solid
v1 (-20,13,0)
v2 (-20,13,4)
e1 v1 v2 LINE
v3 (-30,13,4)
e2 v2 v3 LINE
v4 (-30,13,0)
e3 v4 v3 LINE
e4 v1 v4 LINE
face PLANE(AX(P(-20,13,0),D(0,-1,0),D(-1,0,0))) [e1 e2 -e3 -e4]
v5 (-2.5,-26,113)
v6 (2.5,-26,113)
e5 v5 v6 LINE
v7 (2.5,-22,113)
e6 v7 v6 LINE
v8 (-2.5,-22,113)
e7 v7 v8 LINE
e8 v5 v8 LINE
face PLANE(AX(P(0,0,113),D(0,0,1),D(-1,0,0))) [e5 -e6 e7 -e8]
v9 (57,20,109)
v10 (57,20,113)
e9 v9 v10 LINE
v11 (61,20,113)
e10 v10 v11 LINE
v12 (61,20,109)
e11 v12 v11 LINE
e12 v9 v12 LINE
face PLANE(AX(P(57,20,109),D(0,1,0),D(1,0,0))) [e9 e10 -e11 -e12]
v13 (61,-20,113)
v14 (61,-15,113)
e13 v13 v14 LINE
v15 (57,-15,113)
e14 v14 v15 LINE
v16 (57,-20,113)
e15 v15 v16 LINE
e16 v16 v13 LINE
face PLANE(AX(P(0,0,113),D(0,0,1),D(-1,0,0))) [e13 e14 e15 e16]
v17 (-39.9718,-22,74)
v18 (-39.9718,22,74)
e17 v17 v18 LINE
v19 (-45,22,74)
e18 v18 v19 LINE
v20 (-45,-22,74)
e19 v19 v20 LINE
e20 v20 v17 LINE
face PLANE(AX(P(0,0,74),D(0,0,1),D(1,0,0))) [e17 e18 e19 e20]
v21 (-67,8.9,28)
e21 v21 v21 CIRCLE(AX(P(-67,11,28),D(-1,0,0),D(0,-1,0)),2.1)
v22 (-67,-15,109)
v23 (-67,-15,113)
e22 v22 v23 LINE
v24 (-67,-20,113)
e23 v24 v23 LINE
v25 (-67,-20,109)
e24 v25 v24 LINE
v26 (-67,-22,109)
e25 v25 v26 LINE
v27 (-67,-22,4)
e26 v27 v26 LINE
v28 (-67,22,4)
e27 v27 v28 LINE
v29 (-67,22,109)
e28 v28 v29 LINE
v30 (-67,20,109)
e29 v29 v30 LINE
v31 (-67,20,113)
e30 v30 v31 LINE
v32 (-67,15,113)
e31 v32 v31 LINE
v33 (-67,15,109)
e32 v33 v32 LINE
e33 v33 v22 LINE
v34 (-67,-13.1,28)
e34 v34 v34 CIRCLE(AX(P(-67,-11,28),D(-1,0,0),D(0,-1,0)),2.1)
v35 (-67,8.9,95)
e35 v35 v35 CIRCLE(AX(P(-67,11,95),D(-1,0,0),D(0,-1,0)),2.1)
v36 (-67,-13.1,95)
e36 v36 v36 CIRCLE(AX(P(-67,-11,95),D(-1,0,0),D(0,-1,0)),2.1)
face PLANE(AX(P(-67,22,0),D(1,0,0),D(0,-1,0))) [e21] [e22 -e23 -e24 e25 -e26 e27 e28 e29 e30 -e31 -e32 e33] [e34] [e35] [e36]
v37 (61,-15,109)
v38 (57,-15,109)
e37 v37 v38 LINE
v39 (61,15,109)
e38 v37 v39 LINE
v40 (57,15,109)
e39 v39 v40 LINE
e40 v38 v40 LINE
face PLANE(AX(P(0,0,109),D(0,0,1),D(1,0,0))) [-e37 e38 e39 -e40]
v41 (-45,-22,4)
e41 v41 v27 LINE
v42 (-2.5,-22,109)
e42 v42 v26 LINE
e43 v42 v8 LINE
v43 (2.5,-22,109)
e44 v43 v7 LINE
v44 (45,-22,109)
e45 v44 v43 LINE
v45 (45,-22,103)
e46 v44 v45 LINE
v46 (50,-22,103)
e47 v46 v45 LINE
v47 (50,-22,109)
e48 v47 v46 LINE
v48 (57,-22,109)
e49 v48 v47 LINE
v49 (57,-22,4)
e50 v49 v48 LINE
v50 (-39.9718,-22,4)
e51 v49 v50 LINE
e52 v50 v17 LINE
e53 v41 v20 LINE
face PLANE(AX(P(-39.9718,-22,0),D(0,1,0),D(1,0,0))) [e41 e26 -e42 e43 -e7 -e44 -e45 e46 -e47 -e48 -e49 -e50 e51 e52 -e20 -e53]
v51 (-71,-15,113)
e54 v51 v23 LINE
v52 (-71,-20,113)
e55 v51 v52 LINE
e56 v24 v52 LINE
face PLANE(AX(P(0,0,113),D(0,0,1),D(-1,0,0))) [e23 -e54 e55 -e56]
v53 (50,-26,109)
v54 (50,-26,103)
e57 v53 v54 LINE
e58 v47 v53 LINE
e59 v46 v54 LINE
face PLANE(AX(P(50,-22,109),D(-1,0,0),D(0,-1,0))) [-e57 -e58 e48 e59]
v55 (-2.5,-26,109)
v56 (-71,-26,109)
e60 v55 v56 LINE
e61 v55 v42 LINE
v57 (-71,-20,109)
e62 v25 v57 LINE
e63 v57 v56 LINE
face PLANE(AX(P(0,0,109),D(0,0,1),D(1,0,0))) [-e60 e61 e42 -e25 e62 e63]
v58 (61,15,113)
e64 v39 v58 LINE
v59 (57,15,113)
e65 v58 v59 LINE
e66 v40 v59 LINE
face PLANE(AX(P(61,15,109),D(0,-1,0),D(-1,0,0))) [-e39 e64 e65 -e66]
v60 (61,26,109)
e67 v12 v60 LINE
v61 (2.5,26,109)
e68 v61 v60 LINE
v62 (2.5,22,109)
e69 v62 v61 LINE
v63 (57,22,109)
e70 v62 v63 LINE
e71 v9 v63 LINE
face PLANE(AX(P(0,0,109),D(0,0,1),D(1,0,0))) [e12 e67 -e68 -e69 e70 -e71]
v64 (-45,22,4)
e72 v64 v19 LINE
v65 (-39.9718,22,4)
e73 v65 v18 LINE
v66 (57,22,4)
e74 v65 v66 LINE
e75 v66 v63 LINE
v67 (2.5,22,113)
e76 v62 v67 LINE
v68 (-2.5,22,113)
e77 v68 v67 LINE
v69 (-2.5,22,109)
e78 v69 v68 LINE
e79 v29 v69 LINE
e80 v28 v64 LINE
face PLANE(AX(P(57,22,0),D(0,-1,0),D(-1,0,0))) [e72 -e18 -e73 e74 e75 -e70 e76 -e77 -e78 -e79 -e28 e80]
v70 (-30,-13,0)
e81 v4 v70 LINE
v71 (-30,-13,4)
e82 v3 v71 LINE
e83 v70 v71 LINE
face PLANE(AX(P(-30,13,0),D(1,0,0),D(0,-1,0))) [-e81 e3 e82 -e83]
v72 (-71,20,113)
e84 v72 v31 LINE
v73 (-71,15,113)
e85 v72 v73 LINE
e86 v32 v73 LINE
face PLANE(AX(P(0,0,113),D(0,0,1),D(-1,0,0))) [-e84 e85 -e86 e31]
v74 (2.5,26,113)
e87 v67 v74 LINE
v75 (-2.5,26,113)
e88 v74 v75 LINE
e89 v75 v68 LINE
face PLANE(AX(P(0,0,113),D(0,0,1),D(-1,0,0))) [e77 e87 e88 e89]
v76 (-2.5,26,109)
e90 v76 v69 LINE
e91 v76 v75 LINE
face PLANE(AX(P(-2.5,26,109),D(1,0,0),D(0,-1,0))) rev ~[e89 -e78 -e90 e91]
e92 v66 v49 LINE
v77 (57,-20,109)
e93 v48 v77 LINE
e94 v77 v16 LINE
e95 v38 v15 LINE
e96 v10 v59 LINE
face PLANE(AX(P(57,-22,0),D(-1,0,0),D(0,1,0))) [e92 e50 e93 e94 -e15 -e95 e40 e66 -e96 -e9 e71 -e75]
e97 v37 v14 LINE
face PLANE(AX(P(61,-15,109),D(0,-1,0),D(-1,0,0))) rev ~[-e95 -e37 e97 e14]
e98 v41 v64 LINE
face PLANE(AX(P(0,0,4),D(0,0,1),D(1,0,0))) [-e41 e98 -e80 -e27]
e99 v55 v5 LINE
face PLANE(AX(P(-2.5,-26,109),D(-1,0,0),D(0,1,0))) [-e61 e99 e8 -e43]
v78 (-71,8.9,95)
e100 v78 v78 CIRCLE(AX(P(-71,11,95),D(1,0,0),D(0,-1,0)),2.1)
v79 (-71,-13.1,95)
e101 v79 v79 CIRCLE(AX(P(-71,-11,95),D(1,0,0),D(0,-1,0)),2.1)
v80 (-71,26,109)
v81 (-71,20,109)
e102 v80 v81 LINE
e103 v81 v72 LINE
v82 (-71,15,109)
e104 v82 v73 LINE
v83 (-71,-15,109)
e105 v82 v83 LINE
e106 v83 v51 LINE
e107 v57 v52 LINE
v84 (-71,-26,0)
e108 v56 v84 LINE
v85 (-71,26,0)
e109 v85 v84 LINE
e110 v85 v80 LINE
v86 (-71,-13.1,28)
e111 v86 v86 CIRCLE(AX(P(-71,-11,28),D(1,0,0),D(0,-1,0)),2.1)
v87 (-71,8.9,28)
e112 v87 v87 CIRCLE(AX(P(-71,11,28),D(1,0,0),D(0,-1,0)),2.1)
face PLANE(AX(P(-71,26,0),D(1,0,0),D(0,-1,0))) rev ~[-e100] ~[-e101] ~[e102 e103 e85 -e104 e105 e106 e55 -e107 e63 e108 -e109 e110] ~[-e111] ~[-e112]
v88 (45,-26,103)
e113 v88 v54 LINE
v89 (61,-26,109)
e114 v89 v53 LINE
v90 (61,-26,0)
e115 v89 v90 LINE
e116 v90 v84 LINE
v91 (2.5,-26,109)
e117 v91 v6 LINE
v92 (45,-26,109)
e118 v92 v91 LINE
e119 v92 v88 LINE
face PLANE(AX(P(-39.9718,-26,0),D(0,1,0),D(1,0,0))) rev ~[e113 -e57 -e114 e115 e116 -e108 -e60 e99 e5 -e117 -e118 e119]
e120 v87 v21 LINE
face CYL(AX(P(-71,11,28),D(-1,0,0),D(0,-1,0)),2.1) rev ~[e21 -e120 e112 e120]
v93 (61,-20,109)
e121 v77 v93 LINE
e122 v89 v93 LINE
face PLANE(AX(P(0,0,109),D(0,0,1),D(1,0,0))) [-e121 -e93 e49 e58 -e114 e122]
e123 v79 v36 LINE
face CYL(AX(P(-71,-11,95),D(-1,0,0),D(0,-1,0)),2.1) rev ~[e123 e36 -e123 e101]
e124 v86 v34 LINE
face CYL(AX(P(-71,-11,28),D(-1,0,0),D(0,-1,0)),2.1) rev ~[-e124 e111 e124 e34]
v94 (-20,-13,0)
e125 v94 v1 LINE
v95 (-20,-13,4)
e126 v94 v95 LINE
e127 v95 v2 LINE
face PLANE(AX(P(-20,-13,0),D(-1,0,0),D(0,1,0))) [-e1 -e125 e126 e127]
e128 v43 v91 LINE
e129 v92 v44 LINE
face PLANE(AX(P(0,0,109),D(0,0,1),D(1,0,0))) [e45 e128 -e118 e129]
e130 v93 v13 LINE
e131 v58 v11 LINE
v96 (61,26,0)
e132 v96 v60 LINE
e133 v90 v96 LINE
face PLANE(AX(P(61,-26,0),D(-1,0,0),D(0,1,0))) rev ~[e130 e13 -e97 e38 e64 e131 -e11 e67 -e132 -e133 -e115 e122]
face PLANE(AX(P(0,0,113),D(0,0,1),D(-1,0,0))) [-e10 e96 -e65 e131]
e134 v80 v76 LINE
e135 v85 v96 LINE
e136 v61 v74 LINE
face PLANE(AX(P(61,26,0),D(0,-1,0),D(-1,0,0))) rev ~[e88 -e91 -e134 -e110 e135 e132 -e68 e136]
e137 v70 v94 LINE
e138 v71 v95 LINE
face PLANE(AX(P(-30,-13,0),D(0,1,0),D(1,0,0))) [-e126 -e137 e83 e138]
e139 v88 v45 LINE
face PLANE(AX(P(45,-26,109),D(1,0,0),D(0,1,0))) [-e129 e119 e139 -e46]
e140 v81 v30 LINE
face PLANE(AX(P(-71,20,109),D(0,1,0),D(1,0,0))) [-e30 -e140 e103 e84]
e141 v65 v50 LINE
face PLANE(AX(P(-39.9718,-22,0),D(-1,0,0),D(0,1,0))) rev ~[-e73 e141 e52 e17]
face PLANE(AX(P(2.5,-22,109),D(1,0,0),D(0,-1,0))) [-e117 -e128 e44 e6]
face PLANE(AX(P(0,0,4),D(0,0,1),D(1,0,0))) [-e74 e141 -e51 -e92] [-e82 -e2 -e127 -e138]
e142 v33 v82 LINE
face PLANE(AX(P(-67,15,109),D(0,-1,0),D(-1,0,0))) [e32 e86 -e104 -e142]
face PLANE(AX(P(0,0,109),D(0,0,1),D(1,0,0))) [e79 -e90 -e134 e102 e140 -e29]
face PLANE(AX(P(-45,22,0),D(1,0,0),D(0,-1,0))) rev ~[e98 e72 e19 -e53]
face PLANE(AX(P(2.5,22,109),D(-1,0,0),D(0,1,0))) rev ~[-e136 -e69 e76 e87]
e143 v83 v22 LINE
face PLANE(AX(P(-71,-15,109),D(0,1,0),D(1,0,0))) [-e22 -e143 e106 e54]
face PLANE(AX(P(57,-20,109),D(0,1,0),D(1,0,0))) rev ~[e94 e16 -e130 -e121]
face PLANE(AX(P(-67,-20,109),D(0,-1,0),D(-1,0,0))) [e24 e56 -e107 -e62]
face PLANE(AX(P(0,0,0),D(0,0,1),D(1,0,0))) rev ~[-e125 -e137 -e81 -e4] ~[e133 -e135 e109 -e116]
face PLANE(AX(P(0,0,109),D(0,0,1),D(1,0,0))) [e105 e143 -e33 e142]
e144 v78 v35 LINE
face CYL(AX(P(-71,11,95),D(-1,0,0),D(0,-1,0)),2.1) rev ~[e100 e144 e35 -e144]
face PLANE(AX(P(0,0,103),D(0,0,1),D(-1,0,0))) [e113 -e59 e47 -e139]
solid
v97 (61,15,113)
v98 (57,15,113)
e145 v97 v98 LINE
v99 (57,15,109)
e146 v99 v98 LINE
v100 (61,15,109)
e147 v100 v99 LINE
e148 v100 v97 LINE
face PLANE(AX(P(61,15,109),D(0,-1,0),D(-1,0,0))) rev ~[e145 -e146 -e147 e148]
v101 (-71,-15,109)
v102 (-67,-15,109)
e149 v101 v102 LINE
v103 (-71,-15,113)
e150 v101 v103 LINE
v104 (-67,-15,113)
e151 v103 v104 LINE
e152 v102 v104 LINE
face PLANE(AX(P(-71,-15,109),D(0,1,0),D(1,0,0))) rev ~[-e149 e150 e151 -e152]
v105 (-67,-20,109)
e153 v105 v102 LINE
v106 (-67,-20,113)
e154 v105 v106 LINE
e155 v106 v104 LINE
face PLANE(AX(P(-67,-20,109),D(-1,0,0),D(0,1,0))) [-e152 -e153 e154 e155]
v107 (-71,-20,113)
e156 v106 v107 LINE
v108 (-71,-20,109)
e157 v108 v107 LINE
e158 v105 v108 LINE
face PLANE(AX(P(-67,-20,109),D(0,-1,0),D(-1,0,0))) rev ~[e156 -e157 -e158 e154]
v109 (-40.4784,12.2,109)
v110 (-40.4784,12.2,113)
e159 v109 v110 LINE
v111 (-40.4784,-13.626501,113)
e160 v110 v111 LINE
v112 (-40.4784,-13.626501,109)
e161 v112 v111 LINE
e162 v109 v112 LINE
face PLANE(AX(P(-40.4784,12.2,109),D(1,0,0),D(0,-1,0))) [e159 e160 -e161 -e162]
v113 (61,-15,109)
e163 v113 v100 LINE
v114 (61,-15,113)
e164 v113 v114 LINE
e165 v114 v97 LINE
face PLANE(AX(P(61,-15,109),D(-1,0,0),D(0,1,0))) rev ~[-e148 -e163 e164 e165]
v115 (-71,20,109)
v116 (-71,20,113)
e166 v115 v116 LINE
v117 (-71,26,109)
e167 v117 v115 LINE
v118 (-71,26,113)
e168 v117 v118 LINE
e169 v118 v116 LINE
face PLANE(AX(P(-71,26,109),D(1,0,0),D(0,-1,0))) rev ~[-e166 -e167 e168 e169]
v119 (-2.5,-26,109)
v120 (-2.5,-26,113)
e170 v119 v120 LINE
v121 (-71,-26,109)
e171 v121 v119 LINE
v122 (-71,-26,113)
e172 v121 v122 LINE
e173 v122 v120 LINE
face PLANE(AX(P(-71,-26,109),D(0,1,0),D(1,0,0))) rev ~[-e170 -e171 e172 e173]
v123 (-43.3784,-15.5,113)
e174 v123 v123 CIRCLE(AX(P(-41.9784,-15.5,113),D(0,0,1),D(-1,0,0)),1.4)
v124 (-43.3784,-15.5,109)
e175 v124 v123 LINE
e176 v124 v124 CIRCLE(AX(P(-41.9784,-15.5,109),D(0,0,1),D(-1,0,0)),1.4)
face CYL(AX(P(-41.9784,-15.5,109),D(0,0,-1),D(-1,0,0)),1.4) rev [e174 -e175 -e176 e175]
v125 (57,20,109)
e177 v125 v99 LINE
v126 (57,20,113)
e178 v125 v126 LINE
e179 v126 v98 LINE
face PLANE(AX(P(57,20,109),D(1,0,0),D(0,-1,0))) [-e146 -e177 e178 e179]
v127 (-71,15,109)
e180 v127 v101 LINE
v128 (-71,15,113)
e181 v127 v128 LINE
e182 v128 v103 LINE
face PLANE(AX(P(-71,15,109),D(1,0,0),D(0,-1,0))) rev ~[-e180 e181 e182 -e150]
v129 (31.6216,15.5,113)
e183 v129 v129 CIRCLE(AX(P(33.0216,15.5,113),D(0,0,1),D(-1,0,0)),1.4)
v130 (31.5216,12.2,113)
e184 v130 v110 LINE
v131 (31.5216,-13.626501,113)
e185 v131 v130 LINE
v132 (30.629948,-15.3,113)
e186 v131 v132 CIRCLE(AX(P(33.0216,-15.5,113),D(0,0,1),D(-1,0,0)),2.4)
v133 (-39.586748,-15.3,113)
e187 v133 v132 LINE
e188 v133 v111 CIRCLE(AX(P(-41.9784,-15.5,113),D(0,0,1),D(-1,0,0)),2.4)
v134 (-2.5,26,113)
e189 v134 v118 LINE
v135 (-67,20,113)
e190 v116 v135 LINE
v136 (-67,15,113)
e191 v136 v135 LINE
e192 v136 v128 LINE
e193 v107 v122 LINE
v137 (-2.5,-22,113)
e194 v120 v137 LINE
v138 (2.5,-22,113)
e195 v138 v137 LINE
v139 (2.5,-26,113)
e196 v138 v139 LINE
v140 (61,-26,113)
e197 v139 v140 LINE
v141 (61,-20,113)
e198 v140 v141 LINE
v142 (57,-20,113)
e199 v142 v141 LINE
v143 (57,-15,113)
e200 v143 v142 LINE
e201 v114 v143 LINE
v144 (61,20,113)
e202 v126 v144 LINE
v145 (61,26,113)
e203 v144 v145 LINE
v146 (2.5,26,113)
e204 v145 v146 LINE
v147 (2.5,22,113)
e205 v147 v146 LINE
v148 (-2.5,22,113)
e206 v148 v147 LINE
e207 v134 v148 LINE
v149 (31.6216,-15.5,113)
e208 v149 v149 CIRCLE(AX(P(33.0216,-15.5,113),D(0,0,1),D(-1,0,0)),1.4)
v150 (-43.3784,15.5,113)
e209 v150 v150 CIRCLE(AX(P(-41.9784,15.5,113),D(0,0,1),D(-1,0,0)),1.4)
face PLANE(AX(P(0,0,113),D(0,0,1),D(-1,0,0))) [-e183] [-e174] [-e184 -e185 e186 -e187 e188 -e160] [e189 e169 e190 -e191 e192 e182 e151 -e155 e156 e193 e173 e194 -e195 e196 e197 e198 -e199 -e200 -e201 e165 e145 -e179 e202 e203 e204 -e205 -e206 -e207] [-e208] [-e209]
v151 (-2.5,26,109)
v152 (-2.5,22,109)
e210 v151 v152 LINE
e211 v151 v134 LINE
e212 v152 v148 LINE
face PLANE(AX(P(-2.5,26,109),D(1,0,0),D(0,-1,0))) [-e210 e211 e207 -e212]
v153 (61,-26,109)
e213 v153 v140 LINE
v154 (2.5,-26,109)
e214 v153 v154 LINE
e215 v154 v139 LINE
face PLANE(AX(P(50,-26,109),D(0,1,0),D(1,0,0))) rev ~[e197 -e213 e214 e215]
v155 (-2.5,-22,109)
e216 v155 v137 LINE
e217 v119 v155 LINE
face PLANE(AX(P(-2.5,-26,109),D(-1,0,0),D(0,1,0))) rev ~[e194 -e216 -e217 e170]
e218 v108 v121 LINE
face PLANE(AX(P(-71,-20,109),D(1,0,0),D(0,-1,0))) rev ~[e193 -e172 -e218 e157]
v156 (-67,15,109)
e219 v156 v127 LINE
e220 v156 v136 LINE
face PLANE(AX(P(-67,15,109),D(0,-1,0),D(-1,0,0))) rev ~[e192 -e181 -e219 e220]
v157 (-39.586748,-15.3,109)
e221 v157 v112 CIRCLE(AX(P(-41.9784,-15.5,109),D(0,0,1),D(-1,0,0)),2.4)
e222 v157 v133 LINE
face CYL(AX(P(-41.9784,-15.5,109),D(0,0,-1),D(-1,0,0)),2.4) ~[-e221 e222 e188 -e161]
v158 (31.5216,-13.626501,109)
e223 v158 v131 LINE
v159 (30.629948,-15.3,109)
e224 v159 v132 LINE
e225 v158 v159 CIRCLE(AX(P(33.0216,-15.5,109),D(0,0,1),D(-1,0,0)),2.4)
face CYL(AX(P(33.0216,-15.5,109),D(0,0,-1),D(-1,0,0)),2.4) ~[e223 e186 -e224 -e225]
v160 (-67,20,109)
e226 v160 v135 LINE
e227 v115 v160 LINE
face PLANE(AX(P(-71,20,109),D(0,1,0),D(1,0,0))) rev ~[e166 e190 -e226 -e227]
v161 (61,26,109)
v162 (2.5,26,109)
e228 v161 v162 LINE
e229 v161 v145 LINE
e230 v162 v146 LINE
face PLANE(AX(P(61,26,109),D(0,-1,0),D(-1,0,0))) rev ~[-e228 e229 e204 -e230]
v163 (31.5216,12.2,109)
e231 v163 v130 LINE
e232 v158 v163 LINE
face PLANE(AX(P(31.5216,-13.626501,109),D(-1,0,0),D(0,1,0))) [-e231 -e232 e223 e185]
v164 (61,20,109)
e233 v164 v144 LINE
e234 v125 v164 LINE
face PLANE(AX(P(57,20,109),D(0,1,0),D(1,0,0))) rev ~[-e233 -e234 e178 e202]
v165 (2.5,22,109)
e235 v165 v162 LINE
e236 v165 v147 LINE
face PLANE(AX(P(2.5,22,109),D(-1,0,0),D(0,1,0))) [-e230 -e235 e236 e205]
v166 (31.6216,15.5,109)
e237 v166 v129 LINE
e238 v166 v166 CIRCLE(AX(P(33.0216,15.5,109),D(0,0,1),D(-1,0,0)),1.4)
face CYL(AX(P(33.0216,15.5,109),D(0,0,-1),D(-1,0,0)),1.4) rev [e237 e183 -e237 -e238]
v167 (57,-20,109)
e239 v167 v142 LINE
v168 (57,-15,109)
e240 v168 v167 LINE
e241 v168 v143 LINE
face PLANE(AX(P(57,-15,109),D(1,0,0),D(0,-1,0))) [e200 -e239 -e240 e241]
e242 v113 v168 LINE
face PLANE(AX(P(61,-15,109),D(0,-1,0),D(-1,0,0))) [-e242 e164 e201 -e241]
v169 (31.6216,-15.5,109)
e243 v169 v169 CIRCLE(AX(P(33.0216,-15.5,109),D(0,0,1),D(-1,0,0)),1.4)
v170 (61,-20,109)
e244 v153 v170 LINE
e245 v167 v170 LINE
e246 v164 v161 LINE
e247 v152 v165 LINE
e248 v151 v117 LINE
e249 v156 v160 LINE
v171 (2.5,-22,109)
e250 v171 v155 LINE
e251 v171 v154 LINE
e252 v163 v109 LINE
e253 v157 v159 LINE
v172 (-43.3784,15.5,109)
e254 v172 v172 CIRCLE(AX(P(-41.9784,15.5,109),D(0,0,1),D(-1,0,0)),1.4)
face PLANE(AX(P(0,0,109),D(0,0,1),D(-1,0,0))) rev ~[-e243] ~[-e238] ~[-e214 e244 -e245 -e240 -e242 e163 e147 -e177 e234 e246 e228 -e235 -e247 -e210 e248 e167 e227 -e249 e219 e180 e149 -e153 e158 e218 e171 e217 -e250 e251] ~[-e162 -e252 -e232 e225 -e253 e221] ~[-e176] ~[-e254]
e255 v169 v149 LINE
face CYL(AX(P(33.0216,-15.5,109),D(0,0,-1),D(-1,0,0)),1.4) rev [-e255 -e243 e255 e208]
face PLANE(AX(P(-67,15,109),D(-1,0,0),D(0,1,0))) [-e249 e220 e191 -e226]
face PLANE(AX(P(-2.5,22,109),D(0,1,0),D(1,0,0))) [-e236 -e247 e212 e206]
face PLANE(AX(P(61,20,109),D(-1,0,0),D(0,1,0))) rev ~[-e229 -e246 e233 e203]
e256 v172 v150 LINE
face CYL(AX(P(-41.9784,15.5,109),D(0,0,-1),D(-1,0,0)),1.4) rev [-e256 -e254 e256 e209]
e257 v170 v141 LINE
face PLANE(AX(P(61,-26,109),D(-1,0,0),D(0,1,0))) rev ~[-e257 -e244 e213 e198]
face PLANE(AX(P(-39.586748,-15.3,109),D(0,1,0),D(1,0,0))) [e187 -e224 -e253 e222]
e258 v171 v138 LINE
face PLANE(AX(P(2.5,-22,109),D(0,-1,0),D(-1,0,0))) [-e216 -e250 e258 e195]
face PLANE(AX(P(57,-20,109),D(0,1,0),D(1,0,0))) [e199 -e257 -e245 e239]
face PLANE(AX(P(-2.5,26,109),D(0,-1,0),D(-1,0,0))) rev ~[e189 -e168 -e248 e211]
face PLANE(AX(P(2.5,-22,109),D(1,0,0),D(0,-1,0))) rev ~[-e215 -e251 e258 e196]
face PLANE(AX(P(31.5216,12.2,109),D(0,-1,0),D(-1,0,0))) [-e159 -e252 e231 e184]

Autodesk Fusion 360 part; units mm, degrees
sketch "Sketch1" plane through (0, 0, 0) normal (0, 0, 1) x (1, 0, 0)
  line L0 (-40, 18) -> (40, 18)
  circle A0 centre (37.5, -15.5) radius 2.4
  line L1 (36, -15.3) -> (36, 12.2)
  circle A1 centre (-37.5, 15.5) radius 1.4
  circle A2 centre (-37.5, -15.5) radius 1.4
  line L2 (36, 12.2) -> (-36, 12.2)
  circle A3 centre (-37.5, -15.5) radius 2.4
  line L3 (-33.5216, 18) -> (8, 18)
  line L4 (40, 18) -> (40, -18)
  line L5 (-36, 12.2) -> (-36, -15.3)
  circle A4 centre (37.5, 15.5) radius 1.4
  circle A5 centre (-37.5, 15.5) radius 2.4
  circle A6 centre (37.5, -15.5) radius 1.4
  line L6 (-33.5216, 14) -> (-33.5216, 18)
  line L7 (40, -18) -> (-40, -18)
  line L8 (8, 18) -> (8, 14)
  line L9 (8, 14) -> (-33.5216, 14)
  line L10 (-36, -15.3) -> (36, -15.3)
  circle A7 centre (37.5, 15.5) radius 2.4
  line L11 (-40, -18) -> (-40, 18)
  dimension "d1" = 2.8
  dimension "d2" = 4.8
  dimension "d3" = 2.8
  dimension "d4" = 4.8
  dimension "d5" = 2.8
  dimension "d6" = 4.8
  dimension "d7" = 2.8
  dimension "d8" = 4.8
sketch "Sketch2" plane through (0, 0, 0) normal (0, 0, 1) x (1, 0, 0)
  line L0 (55, 20) -> (-5, 20)
  line L1 (-5, 20) -> (-5, -20)
  line L2 (-5, -20) -> (55, -20)
  line L3 (55, -20) -> (55, 20)
  line L4 (61, 26) -> (-71, 26)
  line L5 (-71, 26) -> (-71, -26)
  line L6 (-71, -26) -> (61, -26)
  line L7 (61, -26) -> (61, 26)
  line L8 (57, 22) -> (-67, 22)
  line L9 (-67, 22) -> (-67, -22)
  line L10 (-67, -22) -> (57, -22)
  line L11 (57, -22) -> (57, 22)
  line L12 (-39.9718, 26) -> (-45, 26)
  line L13 (-45, 26) -> (-45, -26)
  line L14 (-45, -26) -> (-39.9718, -26)
  line L15 (-39.9718, -26) -> (-39.9718, 26)
  line L16 (-20, 13) -> (-30, 13)
  line L17 (-30, 13) -> (-30, -13)
  line L18 (-30, -13) -> (-20, -13)
  line L19 (-20, -13) -> (-20, 13)
  dimension "d15" = 60
  dimension "d16" = 40
  dimension "d19" = 132
  dimension "d20" = 52
  dimension "d22" = 26
extrude "Extrude1" add sketch "Sketch2" along normal blind 4 contours L0 L1 L2 L3 | L4 L6 L7 L8 L10 L11 L15 | L4 L8 L12 L13 L15 | L4 L5 L6 L8 L9 L10 L13 | L8 L10 L13 L15 | L8 L10 L11 L15 | L6 L10 L13 L14 L15 | L8 L9 L10 L13 | L16 L17 L18 L19 makes body 1
extrude "Extrude2" add sketch "Sketch2" along normal blind 109 contours L4 L6 L7 L8 L10 L11 L15 | L4 L8 L12 L13 L15 | L4 L5 L6 L8 L9 L10 L13 | L6 L10 L13 L14 L15 bodies 1
extrude "Extrude3" add sketch "Sketch2" along normal blind 74 contours L8 L10 L13 L15 bodies 1
sketch "Sketch3" plane through (-71, 0, 0) normal (-1, 0, 0) x (0, -1, 0)
  line L0 (-26, 0) -> (26, 0)
  line L1 (26, 0) -> (26, 109)
  line L2 (26, 109) -> (-26, 109)
  line L3 (-26, 109) -> (-26, 0)
  line L4 (-11, 95) -> (11, 95)
  line L5 (11, 95) -> (11, 28)
  line L6 (11, 28) -> (-11, 28)
  line L7 (-11, 28) -> (-11, 95)
  circle A0 centre (-11, 28) radius 2.1
  circle A1 centre (-11, 95) radius 2.1
  circle A2 centre (11, 95) radius 2.1
  circle A3 centre (11, 28) radius 2.1
  dimension "d31" = 22
  dimension "d32" = 67
  dimension "d33" = 4.2
  dimension "d34" = 4.2
  dimension "d35" = 4.2
  dimension "d36" = 4.2
sketch "Sketch4" plane through (0, 0, 109) normal (0, 0, 1) x (-1, 0, 0)
  line L0 (-57, -22) -> (-57, 22)
  line L1 (-57, 22) -> (67, 22)
  line L2 (67, 22) -> (67, -22)
  line L3 (67, -22) -> (-57, -22)
  line L4 (71, 26) -> (-61, 26)
  line L5 (-61, 26) -> (-61, -26)
  line L6 (-61, -26) -> (71, -26)
  line L7 (71, -26) -> (71, 26)
  line L8 (-61, 26) -> (71, 26)
  line L9 (71, 26) -> (71, -26)
  line L10 (71, -26) -> (-61, -26)
  line L11 (-61, -26) -> (-61, 26)
  line L12 (67, 20) -> (71, 20)
  line L13 (71, 20) -> (71, 15)
  line L14 (71, 15) -> (67, 15)
  line L15 (67, 15) -> (67, 20)
  line L16 (71, -20) -> (67, -20)
  line L17 (67, -20) -> (67, -15)
  line L18 (67, -15) -> (71, -15)
  line L19 (71, -15) -> (71, -20)
  line L20 (-57, 20) -> (-61, 20)
  line L21 (-61, 20) -> (-61, 15)
  line L22 (-61, 15) -> (-57, 15)
  line L23 (-57, 15) -> (-57, 20)
  line L24 (-57, -20) -> (-61, -20)
  line L25 (-61, -20) -> (-61, -15)
  line L26 (-61, -15) -> (-57, -15)
  line L27 (-57, -15) -> (-57, -20)
  line L28 (2.5, -22) -> (-2.5, -22)
  line L29 (-2.5, -22) -> (-2.5, -26)
  line L30 (-2.5, -26) -> (2.5, -26)
  line L31 (2.5, -26) -> (2.5, -22)
  line L32 (2.5, 22) -> (-2.5, 22)
  line L33 (-2.5, 22) -> (-2.5, 26)
  line L34 (-2.5, 26) -> (2.5, 26)
  line L35 (2.5, 26) -> (2.5, 22)
  circle A0 centre (-33.0216, 15.5) radius 2.4
  line L36 (-35.5216, -18) -> (-35.5216, 18)
  circle A1 centre (-33.0216, -15.5) radius 2.4
  line L37 (38, -14) -> (38, -18)
  line L38 (-31.5216, -12.2) -> (40.4784, -12.2)
  line L39 (44.4784, -18) -> (-35.5216, -18)
  line L40 (38, -18) -> (-3.5216, -18)
  line L41 (-3.5216, -18) -> (-3.5216, -14)
  circle A2 centre (-33.0216, 15.5) radius 1.4
  line L42 (-31.5216, 15.3) -> (-31.5216, -12.2)
  circle A3 centre (-33.0216, -15.5) radius 1.4
  line L43 (44.4784, 18) -> (44.4784, -18)
  circle A4 centre (41.9784, 15.5) radius 2.4
  line L44 (40.4784, 15.3) -> (-31.5216, 15.3)
  circle A5 centre (41.9784, 15.5) radius 1.4
  circle A6 centre (41.9784, -15.5) radius 2.4
  line L45 (40.4784, -12.2) -> (40.4784, 15.3)
  line L46 (-35.5216, 18) -> (44.4784, 18)
  circle A7 centre (41.9784, -15.5) radius 1.4
  line L47 (-3.5216, -14) -> (38, -14)
  line L48 (-50, 26) -> (-45, 26)
  line L49 (-45, 26) -> (-45, 22)
  line L50 (-45, 22) -> (-50, 22)
  line L51 (-50, 22) -> (-50, 26)
  point P0 (4.4784, 0)
  point P1 (4.4784, 0)
  dimension "d37" = 5
  dimension "d38" = 4
  dimension "d39" = 5
  dimension "d44" = 2.8
  dimension "d45" = 4.8
  dimension "d46" = 2.8
  dimension "d47" = 4.8
  dimension "d48" = 2.8
  dimension "d49" = 4.8
  dimension "d50" = 2.8
  dimension "d51" = 4.8
extrude "Extrude4" add sketch "Sketch4" along normal blind 4 contours L0 L5 L11 L24 L25 L26 L27 | L3 L6 L10 L28 L29 L30 L31 | L0 L5 L11 L20 L21 L22 L23 | L2 L7 L9 L16 L17 L18 L19 | L2 L7 L9 L12 L13 L14 L15 | L1 L4 L8 L32 L33 L34 L35 bodies 1
extrude "Extrude5" cut sketch "Sketch2" along normal blind 4 contours L16 L17 L18 L19 bodies 1
extrude "Extrude6" cut sketch "Sketch4" against normal blind 6 contours L1 L4 L8 L48 L49 L50 L51 bodies 1
extrude "Extrude7" add sketch "Sketch4" along normal blind 4 separate body contours L0 L3 L5 L6 L10 L11 L24 L29 | L0 L1 L2 L3 L15 L17 L23 L27 L28 L32 L50 | L0 L5 L11 L22 L26 | L2 L3 L6 L7 L9 L10 L16 L31 | L0 L1 L4 L5 L8 L11 L20 L51 | L2 L7 L9 L14 L18 | L1 L4 L8 L48 L49 L50 L51 | L1 L4 L8 L33 L49 | L1 L2 L4 L7 L8 L9 L12 L35 | A0 L42 L44 | A0 L42 L44 | A4 L44 L45 | A4 L44 L45 | L36 L37 L39 L41 L43 L46 L47 | L37 L39 L40 L41 L47 | A1 | A6 makes body 2
extrude "Extrude8" cut sketch "Sketch3" against normal blind 4 contours L4 L7 A1 | L4 L7 A1 | L4 L5 A2 | L4 L5 A2 | L6 L7 A0 | L6 L7 A0 | L5 L6 A3 | L5 L6 A3 bodies 1
equation "d19 = 126 mm + 6 mm"
equation "d20 = 46 mm + 6 mm"
equation "d25 = 80 mm + 4 mm + 25 mm"
equation "d27 = 70 mm + 4 mm"
